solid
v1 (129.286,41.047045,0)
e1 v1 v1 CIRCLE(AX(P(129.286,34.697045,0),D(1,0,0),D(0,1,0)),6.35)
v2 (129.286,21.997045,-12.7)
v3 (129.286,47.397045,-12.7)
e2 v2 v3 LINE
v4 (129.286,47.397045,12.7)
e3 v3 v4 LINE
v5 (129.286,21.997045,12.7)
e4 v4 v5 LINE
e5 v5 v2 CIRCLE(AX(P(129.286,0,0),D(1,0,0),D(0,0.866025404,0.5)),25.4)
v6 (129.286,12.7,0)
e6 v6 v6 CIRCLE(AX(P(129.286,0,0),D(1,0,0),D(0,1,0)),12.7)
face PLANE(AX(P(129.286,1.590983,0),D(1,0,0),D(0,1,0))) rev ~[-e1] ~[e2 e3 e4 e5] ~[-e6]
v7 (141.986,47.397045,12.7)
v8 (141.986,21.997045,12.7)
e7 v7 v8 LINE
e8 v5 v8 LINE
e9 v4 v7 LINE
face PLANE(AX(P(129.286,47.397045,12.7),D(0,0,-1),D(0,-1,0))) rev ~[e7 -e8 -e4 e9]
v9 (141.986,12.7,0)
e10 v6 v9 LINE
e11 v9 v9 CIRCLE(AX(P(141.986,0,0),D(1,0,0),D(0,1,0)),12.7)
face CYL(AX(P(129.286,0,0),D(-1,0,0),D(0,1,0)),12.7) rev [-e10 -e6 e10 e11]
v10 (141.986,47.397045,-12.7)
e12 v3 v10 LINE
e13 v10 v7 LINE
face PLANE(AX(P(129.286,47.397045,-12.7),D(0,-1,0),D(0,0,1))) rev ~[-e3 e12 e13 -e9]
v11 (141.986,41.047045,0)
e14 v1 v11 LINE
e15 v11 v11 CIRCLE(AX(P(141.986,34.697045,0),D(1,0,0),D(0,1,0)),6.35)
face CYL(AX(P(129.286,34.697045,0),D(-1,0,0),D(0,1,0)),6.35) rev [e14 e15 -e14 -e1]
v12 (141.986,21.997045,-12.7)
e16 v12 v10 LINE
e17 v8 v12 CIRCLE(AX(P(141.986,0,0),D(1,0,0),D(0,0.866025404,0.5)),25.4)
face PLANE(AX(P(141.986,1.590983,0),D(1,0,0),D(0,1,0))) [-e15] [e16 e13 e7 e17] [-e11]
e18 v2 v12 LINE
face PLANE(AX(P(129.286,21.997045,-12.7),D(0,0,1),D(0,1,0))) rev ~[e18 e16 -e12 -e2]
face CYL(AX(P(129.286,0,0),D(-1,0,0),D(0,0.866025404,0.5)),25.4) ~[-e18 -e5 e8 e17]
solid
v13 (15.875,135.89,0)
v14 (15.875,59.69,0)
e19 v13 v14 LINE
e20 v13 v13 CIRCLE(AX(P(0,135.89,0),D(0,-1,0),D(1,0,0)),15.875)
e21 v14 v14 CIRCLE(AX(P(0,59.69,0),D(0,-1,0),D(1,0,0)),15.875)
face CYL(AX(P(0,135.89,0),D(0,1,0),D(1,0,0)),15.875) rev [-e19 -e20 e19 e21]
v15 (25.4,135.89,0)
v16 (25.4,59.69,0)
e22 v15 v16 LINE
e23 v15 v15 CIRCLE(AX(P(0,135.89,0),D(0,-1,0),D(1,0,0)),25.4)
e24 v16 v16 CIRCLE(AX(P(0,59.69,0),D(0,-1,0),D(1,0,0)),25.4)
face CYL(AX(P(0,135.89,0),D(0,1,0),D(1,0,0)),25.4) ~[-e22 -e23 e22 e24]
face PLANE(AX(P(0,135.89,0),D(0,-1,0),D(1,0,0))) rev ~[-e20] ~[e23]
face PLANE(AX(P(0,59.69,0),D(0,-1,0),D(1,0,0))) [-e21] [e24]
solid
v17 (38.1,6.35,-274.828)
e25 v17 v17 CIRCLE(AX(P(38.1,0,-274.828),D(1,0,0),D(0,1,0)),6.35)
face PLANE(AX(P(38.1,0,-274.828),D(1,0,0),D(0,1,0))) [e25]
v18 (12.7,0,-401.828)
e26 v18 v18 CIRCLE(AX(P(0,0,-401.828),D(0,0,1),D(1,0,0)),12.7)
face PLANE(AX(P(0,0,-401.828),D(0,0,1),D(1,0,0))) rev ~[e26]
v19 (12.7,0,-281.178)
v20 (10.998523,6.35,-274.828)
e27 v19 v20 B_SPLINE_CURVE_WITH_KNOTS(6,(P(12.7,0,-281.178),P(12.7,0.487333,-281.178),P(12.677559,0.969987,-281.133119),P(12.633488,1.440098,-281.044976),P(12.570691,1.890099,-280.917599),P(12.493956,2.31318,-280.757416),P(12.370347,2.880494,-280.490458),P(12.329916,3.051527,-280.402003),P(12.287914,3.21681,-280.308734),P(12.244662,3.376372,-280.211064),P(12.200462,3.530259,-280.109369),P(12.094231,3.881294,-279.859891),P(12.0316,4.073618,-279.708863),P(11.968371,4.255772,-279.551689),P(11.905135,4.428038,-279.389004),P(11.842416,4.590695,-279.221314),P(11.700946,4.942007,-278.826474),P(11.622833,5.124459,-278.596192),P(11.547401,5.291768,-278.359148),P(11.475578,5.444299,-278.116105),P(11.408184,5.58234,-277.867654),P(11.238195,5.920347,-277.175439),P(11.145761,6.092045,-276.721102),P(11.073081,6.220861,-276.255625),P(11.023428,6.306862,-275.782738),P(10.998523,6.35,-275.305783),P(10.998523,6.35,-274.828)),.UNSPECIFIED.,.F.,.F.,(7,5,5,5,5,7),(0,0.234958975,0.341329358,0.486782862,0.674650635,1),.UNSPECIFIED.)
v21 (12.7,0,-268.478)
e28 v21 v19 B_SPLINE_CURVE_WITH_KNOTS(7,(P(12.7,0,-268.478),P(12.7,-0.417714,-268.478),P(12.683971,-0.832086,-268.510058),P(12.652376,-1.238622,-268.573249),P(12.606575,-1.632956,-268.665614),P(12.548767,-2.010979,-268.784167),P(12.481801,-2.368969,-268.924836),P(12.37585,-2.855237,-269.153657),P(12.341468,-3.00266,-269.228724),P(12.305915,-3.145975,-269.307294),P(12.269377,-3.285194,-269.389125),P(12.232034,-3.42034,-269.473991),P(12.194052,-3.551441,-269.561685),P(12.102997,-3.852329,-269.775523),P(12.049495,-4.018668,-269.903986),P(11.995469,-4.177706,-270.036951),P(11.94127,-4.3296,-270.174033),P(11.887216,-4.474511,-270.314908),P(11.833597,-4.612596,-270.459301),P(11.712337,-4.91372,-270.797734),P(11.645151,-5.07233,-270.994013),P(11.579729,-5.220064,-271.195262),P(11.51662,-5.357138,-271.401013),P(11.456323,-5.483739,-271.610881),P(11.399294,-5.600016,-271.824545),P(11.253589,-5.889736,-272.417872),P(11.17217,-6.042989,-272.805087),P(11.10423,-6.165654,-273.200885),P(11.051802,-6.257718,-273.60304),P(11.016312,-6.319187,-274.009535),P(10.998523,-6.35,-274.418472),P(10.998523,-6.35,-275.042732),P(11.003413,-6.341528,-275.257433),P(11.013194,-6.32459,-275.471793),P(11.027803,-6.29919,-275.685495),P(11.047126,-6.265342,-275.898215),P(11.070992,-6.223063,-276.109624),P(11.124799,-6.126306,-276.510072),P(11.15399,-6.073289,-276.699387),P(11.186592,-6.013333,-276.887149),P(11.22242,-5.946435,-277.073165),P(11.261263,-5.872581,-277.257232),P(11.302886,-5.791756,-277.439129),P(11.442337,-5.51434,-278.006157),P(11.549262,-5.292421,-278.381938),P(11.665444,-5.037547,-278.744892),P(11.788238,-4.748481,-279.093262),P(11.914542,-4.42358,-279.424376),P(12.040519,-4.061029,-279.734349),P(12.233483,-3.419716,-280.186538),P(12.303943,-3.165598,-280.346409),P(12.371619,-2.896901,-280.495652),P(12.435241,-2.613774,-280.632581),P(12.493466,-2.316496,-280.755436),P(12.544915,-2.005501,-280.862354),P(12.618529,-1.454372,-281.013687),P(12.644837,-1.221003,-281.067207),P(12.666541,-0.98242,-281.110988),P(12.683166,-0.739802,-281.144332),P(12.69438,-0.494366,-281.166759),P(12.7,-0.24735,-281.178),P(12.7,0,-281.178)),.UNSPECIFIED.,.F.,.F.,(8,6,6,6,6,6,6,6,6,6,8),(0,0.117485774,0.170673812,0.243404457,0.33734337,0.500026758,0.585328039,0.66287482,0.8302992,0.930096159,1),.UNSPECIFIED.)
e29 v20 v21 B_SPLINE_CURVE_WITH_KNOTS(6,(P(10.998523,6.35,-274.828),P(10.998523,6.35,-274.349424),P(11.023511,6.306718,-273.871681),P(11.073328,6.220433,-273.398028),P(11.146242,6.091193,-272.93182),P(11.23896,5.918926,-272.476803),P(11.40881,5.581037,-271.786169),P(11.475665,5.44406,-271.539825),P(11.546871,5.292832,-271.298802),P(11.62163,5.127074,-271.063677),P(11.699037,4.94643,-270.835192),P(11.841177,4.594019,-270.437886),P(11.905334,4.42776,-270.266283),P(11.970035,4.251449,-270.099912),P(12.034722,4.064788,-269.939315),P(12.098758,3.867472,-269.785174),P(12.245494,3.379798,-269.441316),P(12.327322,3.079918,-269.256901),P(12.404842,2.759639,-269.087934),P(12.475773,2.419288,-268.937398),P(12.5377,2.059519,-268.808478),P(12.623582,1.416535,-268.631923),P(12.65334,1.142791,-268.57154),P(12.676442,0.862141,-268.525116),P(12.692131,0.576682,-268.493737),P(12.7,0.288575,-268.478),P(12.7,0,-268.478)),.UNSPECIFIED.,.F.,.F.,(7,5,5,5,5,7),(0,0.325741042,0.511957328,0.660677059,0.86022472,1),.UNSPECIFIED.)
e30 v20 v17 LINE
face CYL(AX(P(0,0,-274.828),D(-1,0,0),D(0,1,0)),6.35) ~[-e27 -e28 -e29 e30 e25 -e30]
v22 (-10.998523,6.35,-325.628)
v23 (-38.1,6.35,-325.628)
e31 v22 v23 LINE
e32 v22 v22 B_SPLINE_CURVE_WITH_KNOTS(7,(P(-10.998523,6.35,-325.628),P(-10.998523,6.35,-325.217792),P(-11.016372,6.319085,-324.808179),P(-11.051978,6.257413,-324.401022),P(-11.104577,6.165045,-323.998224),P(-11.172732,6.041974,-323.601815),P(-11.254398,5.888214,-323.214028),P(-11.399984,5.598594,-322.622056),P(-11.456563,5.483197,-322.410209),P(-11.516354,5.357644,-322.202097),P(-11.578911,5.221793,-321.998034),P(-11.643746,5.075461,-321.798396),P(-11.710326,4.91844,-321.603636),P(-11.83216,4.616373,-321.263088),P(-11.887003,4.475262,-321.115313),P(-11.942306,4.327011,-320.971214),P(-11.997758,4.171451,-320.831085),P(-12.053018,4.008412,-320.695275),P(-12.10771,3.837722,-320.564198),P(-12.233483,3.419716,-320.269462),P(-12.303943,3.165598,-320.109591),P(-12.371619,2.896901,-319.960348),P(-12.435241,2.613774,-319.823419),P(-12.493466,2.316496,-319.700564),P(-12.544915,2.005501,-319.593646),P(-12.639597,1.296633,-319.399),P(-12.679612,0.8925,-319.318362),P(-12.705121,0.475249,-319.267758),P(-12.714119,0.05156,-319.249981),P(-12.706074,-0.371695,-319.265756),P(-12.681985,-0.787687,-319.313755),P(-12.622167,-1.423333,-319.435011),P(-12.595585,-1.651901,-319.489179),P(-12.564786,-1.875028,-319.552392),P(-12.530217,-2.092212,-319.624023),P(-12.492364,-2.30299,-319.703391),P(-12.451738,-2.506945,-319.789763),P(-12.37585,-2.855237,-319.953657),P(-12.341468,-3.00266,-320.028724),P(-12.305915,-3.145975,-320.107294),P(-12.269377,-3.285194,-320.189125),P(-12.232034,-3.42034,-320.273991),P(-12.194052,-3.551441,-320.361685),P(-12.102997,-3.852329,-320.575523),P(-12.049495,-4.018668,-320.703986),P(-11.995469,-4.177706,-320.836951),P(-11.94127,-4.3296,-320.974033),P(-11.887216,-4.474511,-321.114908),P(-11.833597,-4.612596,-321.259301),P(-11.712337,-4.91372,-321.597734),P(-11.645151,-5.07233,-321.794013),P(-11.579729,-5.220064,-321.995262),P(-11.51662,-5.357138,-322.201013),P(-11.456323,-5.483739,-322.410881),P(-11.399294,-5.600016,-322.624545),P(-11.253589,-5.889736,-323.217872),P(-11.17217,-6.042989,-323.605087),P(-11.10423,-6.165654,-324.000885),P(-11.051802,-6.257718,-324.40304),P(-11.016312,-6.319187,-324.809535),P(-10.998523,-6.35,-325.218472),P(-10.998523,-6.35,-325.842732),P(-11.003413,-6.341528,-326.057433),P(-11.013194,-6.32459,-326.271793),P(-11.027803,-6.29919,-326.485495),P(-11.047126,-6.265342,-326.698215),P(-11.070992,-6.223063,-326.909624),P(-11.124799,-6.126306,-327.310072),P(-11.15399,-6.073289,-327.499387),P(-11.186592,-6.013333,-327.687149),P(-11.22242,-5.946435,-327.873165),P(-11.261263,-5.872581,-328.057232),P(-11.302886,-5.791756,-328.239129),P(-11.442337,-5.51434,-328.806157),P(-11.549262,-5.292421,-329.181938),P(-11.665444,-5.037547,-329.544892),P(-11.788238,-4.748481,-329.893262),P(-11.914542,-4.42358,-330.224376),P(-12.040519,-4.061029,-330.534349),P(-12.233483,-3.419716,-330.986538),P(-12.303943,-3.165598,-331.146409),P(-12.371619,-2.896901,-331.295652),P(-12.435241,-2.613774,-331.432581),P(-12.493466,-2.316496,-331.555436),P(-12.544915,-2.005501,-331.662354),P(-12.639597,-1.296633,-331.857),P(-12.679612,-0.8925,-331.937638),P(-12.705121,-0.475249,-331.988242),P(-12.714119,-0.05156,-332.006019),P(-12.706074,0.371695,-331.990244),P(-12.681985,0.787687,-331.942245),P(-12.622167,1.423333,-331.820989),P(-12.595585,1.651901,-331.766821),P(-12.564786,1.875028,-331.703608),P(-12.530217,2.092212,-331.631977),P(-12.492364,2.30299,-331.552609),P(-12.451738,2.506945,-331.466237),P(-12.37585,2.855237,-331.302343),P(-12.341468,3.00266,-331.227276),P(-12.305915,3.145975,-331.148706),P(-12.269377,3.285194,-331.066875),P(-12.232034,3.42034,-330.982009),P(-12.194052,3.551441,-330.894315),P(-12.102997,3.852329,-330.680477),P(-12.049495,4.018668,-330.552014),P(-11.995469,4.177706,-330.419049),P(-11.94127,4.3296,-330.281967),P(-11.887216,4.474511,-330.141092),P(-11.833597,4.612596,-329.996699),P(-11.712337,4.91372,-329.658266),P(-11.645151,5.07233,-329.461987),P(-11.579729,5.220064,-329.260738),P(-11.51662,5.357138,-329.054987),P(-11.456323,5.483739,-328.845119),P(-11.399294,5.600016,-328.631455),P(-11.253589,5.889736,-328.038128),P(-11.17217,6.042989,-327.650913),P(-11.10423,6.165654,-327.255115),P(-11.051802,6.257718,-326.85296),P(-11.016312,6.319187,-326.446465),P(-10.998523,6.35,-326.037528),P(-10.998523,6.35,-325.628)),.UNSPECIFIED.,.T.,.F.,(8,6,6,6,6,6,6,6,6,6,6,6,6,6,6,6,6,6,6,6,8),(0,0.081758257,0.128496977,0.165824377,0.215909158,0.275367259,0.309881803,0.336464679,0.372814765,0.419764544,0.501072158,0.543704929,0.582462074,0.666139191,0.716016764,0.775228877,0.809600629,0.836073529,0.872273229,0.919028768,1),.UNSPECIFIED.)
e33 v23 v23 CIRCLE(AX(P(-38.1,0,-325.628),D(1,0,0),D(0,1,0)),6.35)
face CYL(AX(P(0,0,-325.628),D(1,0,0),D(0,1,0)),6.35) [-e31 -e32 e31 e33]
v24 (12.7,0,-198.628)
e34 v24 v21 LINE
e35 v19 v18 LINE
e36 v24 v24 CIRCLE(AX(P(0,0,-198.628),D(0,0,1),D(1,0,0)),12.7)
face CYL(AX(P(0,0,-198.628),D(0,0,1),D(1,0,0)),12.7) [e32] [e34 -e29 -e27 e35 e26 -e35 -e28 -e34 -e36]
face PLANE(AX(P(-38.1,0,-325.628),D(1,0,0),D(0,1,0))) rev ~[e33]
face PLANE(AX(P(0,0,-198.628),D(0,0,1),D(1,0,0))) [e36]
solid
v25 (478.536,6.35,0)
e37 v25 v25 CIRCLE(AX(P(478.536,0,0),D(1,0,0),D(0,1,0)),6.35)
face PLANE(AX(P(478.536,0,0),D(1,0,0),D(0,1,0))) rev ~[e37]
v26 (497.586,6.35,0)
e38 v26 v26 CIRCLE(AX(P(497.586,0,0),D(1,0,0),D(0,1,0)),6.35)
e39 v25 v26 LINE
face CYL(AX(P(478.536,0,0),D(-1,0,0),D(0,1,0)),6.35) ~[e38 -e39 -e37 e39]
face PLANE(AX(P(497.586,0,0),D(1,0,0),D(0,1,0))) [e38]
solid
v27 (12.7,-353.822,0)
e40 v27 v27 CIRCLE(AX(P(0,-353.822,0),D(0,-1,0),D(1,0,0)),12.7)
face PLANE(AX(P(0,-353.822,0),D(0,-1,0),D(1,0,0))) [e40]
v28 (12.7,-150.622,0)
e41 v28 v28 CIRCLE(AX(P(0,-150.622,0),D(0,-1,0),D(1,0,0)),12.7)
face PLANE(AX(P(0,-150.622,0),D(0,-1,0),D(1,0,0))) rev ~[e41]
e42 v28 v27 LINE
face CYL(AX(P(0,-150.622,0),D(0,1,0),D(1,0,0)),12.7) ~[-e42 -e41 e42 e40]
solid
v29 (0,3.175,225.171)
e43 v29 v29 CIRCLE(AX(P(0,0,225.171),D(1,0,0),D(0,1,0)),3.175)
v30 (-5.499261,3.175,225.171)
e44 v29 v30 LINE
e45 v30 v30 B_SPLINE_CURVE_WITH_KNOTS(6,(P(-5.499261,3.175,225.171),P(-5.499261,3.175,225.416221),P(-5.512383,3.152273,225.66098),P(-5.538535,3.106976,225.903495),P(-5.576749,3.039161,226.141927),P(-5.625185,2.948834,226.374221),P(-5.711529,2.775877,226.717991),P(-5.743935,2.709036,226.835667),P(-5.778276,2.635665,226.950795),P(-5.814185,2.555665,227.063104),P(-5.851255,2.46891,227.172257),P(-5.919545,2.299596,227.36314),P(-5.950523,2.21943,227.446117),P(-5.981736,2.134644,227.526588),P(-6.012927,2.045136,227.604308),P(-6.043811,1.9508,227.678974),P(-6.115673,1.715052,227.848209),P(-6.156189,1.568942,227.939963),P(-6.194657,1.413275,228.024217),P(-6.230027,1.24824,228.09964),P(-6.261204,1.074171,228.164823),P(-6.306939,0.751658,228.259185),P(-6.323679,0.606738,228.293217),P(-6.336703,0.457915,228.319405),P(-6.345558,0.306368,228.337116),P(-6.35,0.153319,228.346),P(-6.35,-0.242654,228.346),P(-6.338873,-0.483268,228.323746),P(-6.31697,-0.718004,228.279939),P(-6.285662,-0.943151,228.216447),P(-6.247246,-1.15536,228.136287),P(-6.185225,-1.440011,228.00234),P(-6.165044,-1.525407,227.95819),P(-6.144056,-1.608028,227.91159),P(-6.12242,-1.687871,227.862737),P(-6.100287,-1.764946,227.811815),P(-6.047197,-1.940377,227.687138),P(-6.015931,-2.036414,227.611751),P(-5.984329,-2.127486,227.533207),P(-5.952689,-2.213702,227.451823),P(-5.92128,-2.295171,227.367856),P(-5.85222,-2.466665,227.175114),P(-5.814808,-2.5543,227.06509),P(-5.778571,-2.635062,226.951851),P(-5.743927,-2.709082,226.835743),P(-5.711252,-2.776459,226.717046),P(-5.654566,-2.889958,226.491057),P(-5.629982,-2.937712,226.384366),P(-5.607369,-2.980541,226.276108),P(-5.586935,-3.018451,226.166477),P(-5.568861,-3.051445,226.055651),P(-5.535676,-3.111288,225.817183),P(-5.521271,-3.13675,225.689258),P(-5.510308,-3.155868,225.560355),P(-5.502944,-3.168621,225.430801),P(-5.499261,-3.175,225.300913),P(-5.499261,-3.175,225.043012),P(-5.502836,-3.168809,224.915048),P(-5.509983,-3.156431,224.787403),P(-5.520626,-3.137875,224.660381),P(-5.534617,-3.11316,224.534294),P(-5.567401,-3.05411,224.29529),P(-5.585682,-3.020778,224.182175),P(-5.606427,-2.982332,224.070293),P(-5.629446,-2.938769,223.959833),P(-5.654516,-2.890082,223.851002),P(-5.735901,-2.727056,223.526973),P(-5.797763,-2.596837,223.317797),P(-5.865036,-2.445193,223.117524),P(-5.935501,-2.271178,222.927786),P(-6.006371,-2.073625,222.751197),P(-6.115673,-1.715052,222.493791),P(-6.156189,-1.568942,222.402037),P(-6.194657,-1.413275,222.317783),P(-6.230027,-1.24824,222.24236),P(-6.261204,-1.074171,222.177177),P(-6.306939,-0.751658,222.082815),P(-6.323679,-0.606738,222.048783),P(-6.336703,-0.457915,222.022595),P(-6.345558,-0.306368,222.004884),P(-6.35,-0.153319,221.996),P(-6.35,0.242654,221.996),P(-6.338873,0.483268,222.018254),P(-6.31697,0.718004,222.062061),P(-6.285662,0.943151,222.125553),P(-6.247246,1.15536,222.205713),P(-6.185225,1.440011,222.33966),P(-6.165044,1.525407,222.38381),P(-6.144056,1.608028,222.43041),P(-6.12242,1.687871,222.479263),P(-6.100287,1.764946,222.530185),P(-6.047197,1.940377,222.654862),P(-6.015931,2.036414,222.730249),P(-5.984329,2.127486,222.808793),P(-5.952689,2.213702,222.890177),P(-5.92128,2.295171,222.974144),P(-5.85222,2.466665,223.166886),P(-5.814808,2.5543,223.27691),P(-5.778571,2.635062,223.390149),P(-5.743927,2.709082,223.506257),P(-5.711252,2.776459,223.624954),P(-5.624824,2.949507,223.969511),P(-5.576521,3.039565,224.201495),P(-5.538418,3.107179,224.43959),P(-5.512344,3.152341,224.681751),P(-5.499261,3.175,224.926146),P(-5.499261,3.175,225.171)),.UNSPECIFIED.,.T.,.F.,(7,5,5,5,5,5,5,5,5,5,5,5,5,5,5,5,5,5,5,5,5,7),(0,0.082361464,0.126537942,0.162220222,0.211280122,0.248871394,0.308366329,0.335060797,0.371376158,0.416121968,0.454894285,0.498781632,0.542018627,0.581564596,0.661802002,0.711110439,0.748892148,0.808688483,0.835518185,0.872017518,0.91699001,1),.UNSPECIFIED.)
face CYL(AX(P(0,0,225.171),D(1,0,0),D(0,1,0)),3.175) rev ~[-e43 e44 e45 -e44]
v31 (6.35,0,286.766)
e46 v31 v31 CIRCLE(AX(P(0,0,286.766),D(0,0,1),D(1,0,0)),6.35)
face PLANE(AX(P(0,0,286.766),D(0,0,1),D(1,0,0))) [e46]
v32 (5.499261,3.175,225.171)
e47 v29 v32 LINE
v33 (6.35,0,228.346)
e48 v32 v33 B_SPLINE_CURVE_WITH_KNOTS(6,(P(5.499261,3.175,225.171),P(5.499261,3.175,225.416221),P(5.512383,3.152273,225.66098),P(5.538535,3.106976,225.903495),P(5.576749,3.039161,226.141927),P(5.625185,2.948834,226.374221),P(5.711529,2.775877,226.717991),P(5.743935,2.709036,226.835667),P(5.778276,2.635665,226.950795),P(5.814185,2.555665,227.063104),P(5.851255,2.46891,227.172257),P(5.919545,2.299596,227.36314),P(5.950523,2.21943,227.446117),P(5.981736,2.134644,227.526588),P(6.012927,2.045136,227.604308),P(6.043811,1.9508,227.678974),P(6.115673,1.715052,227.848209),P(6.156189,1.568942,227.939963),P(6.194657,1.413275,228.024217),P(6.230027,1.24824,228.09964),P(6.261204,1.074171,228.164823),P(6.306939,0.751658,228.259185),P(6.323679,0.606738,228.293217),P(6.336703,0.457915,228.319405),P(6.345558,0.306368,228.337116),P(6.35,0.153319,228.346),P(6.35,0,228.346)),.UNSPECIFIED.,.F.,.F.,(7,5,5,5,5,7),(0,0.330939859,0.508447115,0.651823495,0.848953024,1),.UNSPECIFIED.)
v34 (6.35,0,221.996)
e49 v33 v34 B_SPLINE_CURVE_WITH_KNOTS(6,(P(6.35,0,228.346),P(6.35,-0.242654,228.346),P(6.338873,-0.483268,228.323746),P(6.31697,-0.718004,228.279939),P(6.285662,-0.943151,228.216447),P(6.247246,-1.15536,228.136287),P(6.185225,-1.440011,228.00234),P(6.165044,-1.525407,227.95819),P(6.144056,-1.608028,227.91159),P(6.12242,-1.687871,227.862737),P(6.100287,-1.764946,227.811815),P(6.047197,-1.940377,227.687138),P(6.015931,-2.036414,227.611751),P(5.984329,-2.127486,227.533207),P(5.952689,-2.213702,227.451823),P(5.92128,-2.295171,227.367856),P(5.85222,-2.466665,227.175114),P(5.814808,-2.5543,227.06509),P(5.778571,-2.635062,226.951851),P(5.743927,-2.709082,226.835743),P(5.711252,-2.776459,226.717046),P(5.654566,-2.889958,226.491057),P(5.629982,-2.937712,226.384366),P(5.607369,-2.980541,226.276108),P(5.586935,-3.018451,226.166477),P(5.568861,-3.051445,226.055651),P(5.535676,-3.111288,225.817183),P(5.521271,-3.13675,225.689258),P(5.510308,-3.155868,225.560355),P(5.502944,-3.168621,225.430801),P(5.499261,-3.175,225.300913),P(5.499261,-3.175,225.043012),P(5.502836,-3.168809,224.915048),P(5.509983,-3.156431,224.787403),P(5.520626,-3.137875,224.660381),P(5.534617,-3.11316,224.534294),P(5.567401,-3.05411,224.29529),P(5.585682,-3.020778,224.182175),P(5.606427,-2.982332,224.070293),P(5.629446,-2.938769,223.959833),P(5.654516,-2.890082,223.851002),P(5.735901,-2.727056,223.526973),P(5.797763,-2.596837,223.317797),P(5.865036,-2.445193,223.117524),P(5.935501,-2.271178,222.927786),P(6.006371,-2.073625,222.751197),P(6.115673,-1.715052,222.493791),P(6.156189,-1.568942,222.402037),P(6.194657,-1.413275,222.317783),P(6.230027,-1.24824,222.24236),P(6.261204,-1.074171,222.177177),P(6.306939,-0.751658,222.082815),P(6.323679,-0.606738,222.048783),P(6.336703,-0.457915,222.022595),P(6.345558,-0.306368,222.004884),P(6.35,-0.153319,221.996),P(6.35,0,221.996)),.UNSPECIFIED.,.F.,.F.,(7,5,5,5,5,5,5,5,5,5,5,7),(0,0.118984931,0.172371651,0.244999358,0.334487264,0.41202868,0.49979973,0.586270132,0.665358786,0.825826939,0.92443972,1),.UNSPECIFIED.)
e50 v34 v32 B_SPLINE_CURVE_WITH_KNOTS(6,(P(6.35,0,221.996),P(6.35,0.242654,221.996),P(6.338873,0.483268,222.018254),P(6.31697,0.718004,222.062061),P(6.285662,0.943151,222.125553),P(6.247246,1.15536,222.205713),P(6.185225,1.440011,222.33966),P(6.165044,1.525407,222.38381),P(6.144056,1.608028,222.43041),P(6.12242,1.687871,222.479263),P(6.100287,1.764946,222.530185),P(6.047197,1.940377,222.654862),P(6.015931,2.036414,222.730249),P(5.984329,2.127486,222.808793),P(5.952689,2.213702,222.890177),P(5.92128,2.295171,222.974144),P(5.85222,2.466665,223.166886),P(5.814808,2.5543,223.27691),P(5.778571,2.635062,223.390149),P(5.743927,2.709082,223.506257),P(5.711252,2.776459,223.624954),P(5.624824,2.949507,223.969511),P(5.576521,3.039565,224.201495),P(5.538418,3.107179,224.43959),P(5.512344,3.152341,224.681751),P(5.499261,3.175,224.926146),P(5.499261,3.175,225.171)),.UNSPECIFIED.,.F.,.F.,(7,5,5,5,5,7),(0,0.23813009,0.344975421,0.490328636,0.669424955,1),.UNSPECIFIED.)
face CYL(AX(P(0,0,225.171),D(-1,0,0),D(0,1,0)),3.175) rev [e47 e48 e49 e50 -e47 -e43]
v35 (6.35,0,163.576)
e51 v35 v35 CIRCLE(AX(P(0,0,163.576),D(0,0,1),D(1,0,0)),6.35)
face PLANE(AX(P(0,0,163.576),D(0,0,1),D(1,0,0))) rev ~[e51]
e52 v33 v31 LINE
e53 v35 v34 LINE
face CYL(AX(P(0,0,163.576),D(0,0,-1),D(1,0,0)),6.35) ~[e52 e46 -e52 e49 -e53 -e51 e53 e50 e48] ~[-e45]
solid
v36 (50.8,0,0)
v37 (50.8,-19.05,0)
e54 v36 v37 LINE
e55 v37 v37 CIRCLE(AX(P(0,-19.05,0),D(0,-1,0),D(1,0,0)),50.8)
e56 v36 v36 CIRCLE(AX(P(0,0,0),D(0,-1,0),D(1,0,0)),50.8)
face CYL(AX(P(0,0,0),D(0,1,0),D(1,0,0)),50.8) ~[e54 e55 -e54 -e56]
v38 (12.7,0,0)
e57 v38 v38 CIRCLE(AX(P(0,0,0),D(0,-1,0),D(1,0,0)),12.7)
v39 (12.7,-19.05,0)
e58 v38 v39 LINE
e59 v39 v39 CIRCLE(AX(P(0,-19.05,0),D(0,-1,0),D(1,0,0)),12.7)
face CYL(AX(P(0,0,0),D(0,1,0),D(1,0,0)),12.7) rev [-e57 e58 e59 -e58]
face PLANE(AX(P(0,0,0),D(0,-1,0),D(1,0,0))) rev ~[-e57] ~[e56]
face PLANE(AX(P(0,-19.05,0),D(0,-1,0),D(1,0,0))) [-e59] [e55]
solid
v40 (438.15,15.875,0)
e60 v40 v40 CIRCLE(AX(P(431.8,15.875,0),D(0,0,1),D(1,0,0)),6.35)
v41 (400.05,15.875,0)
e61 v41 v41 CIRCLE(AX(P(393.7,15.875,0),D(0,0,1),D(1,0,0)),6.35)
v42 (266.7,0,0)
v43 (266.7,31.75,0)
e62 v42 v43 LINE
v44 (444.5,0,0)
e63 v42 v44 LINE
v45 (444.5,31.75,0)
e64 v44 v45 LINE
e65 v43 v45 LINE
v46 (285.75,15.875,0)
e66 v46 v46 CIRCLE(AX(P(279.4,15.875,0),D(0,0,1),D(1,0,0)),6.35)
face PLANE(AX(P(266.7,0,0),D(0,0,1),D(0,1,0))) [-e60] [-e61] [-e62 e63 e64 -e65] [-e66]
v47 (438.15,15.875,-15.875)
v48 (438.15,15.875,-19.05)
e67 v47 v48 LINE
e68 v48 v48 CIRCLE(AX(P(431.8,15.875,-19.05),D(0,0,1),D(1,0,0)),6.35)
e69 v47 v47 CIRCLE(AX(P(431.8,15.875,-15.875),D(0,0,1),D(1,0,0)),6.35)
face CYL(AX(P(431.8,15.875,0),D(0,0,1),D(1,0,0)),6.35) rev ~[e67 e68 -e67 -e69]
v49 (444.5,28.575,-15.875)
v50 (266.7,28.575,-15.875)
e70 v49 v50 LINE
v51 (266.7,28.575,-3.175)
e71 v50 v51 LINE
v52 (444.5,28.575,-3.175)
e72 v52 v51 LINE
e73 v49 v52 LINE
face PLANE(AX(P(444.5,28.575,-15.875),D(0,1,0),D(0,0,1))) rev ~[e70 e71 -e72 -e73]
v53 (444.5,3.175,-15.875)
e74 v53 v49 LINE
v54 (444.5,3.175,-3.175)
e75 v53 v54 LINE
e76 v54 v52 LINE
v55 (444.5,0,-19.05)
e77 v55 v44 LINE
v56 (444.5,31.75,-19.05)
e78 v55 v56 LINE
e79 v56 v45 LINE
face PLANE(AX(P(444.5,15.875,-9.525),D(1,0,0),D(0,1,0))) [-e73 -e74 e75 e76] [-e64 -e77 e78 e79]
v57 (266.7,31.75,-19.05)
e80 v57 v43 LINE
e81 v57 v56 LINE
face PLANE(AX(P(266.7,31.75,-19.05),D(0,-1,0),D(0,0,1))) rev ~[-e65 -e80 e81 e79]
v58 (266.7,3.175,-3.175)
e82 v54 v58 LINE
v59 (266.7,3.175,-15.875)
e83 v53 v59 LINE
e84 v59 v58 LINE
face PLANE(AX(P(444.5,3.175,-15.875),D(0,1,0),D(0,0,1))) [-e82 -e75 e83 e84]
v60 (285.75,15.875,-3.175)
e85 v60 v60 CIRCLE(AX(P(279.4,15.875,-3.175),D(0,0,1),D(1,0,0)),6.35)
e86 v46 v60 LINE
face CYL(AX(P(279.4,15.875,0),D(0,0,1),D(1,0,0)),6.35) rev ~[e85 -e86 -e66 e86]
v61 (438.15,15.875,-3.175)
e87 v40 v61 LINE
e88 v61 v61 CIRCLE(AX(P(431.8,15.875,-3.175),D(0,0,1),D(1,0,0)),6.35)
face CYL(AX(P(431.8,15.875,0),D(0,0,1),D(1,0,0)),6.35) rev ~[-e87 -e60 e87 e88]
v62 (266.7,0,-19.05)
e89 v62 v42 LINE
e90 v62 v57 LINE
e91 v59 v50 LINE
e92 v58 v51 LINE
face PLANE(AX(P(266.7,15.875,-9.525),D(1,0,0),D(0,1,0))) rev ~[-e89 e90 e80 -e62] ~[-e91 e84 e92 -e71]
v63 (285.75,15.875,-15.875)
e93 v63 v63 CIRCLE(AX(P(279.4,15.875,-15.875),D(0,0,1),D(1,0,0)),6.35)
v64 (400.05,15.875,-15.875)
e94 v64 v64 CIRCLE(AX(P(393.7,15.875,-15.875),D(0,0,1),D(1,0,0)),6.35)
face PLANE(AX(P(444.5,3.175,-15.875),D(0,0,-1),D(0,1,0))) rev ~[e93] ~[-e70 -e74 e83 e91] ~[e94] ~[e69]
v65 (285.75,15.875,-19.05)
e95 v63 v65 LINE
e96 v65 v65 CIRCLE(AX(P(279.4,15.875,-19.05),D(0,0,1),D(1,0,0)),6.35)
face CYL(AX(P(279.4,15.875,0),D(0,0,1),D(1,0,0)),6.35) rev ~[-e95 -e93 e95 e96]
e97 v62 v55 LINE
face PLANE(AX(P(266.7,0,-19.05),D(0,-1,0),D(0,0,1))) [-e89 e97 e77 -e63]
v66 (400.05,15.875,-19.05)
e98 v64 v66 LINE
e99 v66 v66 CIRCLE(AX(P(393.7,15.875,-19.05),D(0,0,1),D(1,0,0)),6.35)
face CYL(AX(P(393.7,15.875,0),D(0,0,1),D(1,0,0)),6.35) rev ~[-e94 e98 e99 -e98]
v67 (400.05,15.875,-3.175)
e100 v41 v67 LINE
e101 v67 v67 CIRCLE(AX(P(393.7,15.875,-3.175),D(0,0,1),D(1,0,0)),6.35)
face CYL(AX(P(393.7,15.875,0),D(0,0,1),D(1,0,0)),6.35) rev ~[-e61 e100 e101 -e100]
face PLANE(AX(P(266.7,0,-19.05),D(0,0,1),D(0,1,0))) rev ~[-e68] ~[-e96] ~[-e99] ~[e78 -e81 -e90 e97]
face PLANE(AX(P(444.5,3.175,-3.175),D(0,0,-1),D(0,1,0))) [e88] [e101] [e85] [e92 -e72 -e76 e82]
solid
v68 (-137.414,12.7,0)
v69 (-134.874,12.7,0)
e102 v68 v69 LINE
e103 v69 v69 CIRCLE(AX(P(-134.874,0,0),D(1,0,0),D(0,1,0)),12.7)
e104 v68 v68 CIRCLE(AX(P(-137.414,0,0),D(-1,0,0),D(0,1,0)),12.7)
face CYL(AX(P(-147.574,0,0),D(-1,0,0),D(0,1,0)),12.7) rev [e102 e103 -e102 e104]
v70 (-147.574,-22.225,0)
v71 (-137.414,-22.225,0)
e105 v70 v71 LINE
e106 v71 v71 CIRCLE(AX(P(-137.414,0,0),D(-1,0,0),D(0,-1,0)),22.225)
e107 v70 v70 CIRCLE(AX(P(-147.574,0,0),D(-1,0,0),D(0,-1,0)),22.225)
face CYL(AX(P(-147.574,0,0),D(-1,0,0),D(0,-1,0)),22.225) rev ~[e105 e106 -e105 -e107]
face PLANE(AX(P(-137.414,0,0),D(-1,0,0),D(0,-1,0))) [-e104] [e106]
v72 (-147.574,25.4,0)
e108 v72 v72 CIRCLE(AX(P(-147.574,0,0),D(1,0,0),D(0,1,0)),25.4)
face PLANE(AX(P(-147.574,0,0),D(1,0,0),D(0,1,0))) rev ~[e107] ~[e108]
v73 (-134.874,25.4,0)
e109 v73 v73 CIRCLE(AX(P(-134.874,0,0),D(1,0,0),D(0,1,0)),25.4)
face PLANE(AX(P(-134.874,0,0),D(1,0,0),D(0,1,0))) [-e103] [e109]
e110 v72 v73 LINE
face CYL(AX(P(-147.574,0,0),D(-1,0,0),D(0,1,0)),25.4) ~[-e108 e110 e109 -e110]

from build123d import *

# Parameters (mm, degrees)
F0_R           = 50.8
F0_R_2         = 12.7
F1_DEPTH       = 19.05
F3_R           = 25.4
F3_R_2         = 12.7
F4_DEPTH       = 12.7
F5_R           = 22.225
F6_DEPTH       = 10.16
F8_R           = 12.7
F8_R_2         = 6.35
F9_DEPTH       = 12.7
F11_R          = 25.4
F11_R_2        = 15.875
F12_DEPTH      = 76.2
F14_R          = 12.7
F15_DEPTH      = 203.2
F17_R          = 6.35
F18_DEPTH      = 123.19
F19_R          = 3.175
F20_DEPTH      = 25.4
F20_DEPTH_BACK = 25.4
F22_R          = 12.7
F23_DEPTH      = 203.2
F24_R          = 6.35
F25_DEPTH      = 38.1
F26_DEPTH      = 38.1
F28_W          = 31.75
F28_H          = 19.05
F29_DEPTH      = 177.8
F30_W          = 25.4
F30_H          = 12.7
F31_DEPTH      = 592.075
F32_R          = 6.35
F33_DEPTH      = 401.8290001
F35_R          = 6.35
F36_DEPTH      = 19.05


with BuildPart() as f1:
    # F0 (on Front) → F1 (new body)
    with BuildSketch(Plane.XZ):
        Circle(F0_R)
        Circle(F0_R_2, mode=Mode.SUBTRACT)
    extrude(amount=F1_DEPTH)


with BuildPart() as f4:
    # F3 (on offset) → F4 (new body)
    with BuildSketch(Plane.YZ.offset(-147.574)):
        Circle(F3_R)
        Circle(F3_R_2, mode=Mode.SUBTRACT)
    extrude(amount=F4_DEPTH)

    # F5 (on face) → F6 (cut)
    with BuildSketch(Plane(origin=(-147.574, 0, 0), x_dir=(0, -1, 0), z_dir=(-1, 0, 0))):
        Circle(F5_R)
    extrude(amount=-F6_DEPTH, mode=Mode.SUBTRACT)


with BuildPart() as f9:
    # F8 (on offset) → F9 (new body)
    with BuildSketch(Plane.YZ.offset(129.286)):
        with BuildLine():
            ThreePointArc((21.9970452561, -12.7), (24.5345159877, -6.5740037456), (25.4, 0))
            ThreePointArc((25.4, 0), (24.5345159877, 6.5740037456), (21.9970452561, 12.7))
            ThreePointArc((21.9970452561, 12.7), (-25.4, 0), (21.9970452561, -12.7))
        make_face()
        Circle(F8_R, mode=Mode.SUBTRACT)
        with BuildLine():
            ThreePointArc((21.9970452561, 12.7), (24.5345159877, 6.5740037456), (25.4, 0))
            ThreePointArc((25.4, 0), (24.5345159877, -6.5740037456), (21.9970452561, -12.7))
            Line((21.9970452561, -12.7), (47.3970452561, -12.7))
            Line((47.3970452561, -12.7), (47.3970452561, 0))
            Line((47.3970452561, 0), (47.3970452561, 12.7))
            Line((47.3970452561, 12.7), (21.9970452561, 12.7))
        make_face()
        with Locations((34.6970452561, 0)):
            Circle(F8_R_2, mode=Mode.SUBTRACT)
    extrude(amount=F9_DEPTH)


with BuildPart() as f12:
    # F11 (on offset) → F12 (new body)
    with BuildSketch(Plane.XZ.offset(-135.89)):
        Circle(F11_R)
        Circle(F11_R_2, mode=Mode.SUBTRACT)
    extrude(amount=F12_DEPTH)


with BuildPart() as f15:
    # F14 (on offset) → F15 (new body)
    with BuildSketch(Plane.XZ.offset(150.622)):
        Circle(F14_R)
    extrude(amount=F15_DEPTH)


with BuildPart() as f18:
    # F17 (on offset) → F18 (new body)
    with BuildSketch(Plane.XY.offset(163.576)):
        Circle(F17_R)
    extrude(amount=F18_DEPTH)

    # F19 (on Right) → F20 (cut, two sides)
    with BuildSketch(Plane.YZ) as f20_sk:
        with Locations((0, 225.171)):
            Circle(F19_R)
    extrude(amount=-F20_DEPTH, mode=Mode.SUBTRACT)
    extrude(f20_sk.sketch, amount=F20_DEPTH_BACK, mode=Mode.SUBTRACT)


with BuildPart() as f23:
    # F22 (on offset) → F23 (new body)
    with BuildSketch(Plane.XY.offset(-198.628)):
        Circle(F22_R)
    extrude(amount=-F23_DEPTH)

    # F24 (on Right) → F25 (join)
    with BuildSketch(Plane.YZ):
        with Locations((0, -274.828)):
            Circle(F24_R)
    extrude(amount=F25_DEPTH)

    # F24 (on Right) → F26 (join)
    with BuildSketch(Plane.YZ):
        with Locations((0, -325.628)):
            Circle(F24_R)
    extrude(amount=-F26_DEPTH)


with BuildPart() as f29:
    # F28 (on offset) → F29 (new body)
    with BuildSketch(Plane.YZ.offset(266.7)):
        with Locations((15.875, -9.525)):
            Rectangle(F28_W, F28_H)
    extrude(amount=F29_DEPTH)

    # F30 (on face) → F31 (cut, through all)
    with BuildSketch(Plane.YZ.offset(444.5)):
        with Locations((15.875, -9.525)):
            Rectangle(F30_W, F30_H)
    extrude(amount=-F31_DEPTH, mode=Mode.SUBTRACT)

    # F32 (on face) → F33 (cut, through all)
    with BuildSketch(Plane.XY):
        with Locations((279.4, 15.875)):
            Circle(F32_R)
        with Locations((431.8, 15.875)):
            Circle(F32_R)
        with Locations((393.7, 15.875)):
            Circle(F32_R)
    extrude(amount=-F33_DEPTH, mode=Mode.SUBTRACT)


with BuildPart() as f36:
    # F35 (on offset) → F36 (new body)
    with BuildSketch(Plane.YZ.offset(478.536)):
        Circle(F35_R)
    extrude(amount=F36_DEPTH)


solid = Compound([f1.part, f4.part, f9.part, f12.part, f15.part, f18.part, f23.part, f29.part, f36.part])
